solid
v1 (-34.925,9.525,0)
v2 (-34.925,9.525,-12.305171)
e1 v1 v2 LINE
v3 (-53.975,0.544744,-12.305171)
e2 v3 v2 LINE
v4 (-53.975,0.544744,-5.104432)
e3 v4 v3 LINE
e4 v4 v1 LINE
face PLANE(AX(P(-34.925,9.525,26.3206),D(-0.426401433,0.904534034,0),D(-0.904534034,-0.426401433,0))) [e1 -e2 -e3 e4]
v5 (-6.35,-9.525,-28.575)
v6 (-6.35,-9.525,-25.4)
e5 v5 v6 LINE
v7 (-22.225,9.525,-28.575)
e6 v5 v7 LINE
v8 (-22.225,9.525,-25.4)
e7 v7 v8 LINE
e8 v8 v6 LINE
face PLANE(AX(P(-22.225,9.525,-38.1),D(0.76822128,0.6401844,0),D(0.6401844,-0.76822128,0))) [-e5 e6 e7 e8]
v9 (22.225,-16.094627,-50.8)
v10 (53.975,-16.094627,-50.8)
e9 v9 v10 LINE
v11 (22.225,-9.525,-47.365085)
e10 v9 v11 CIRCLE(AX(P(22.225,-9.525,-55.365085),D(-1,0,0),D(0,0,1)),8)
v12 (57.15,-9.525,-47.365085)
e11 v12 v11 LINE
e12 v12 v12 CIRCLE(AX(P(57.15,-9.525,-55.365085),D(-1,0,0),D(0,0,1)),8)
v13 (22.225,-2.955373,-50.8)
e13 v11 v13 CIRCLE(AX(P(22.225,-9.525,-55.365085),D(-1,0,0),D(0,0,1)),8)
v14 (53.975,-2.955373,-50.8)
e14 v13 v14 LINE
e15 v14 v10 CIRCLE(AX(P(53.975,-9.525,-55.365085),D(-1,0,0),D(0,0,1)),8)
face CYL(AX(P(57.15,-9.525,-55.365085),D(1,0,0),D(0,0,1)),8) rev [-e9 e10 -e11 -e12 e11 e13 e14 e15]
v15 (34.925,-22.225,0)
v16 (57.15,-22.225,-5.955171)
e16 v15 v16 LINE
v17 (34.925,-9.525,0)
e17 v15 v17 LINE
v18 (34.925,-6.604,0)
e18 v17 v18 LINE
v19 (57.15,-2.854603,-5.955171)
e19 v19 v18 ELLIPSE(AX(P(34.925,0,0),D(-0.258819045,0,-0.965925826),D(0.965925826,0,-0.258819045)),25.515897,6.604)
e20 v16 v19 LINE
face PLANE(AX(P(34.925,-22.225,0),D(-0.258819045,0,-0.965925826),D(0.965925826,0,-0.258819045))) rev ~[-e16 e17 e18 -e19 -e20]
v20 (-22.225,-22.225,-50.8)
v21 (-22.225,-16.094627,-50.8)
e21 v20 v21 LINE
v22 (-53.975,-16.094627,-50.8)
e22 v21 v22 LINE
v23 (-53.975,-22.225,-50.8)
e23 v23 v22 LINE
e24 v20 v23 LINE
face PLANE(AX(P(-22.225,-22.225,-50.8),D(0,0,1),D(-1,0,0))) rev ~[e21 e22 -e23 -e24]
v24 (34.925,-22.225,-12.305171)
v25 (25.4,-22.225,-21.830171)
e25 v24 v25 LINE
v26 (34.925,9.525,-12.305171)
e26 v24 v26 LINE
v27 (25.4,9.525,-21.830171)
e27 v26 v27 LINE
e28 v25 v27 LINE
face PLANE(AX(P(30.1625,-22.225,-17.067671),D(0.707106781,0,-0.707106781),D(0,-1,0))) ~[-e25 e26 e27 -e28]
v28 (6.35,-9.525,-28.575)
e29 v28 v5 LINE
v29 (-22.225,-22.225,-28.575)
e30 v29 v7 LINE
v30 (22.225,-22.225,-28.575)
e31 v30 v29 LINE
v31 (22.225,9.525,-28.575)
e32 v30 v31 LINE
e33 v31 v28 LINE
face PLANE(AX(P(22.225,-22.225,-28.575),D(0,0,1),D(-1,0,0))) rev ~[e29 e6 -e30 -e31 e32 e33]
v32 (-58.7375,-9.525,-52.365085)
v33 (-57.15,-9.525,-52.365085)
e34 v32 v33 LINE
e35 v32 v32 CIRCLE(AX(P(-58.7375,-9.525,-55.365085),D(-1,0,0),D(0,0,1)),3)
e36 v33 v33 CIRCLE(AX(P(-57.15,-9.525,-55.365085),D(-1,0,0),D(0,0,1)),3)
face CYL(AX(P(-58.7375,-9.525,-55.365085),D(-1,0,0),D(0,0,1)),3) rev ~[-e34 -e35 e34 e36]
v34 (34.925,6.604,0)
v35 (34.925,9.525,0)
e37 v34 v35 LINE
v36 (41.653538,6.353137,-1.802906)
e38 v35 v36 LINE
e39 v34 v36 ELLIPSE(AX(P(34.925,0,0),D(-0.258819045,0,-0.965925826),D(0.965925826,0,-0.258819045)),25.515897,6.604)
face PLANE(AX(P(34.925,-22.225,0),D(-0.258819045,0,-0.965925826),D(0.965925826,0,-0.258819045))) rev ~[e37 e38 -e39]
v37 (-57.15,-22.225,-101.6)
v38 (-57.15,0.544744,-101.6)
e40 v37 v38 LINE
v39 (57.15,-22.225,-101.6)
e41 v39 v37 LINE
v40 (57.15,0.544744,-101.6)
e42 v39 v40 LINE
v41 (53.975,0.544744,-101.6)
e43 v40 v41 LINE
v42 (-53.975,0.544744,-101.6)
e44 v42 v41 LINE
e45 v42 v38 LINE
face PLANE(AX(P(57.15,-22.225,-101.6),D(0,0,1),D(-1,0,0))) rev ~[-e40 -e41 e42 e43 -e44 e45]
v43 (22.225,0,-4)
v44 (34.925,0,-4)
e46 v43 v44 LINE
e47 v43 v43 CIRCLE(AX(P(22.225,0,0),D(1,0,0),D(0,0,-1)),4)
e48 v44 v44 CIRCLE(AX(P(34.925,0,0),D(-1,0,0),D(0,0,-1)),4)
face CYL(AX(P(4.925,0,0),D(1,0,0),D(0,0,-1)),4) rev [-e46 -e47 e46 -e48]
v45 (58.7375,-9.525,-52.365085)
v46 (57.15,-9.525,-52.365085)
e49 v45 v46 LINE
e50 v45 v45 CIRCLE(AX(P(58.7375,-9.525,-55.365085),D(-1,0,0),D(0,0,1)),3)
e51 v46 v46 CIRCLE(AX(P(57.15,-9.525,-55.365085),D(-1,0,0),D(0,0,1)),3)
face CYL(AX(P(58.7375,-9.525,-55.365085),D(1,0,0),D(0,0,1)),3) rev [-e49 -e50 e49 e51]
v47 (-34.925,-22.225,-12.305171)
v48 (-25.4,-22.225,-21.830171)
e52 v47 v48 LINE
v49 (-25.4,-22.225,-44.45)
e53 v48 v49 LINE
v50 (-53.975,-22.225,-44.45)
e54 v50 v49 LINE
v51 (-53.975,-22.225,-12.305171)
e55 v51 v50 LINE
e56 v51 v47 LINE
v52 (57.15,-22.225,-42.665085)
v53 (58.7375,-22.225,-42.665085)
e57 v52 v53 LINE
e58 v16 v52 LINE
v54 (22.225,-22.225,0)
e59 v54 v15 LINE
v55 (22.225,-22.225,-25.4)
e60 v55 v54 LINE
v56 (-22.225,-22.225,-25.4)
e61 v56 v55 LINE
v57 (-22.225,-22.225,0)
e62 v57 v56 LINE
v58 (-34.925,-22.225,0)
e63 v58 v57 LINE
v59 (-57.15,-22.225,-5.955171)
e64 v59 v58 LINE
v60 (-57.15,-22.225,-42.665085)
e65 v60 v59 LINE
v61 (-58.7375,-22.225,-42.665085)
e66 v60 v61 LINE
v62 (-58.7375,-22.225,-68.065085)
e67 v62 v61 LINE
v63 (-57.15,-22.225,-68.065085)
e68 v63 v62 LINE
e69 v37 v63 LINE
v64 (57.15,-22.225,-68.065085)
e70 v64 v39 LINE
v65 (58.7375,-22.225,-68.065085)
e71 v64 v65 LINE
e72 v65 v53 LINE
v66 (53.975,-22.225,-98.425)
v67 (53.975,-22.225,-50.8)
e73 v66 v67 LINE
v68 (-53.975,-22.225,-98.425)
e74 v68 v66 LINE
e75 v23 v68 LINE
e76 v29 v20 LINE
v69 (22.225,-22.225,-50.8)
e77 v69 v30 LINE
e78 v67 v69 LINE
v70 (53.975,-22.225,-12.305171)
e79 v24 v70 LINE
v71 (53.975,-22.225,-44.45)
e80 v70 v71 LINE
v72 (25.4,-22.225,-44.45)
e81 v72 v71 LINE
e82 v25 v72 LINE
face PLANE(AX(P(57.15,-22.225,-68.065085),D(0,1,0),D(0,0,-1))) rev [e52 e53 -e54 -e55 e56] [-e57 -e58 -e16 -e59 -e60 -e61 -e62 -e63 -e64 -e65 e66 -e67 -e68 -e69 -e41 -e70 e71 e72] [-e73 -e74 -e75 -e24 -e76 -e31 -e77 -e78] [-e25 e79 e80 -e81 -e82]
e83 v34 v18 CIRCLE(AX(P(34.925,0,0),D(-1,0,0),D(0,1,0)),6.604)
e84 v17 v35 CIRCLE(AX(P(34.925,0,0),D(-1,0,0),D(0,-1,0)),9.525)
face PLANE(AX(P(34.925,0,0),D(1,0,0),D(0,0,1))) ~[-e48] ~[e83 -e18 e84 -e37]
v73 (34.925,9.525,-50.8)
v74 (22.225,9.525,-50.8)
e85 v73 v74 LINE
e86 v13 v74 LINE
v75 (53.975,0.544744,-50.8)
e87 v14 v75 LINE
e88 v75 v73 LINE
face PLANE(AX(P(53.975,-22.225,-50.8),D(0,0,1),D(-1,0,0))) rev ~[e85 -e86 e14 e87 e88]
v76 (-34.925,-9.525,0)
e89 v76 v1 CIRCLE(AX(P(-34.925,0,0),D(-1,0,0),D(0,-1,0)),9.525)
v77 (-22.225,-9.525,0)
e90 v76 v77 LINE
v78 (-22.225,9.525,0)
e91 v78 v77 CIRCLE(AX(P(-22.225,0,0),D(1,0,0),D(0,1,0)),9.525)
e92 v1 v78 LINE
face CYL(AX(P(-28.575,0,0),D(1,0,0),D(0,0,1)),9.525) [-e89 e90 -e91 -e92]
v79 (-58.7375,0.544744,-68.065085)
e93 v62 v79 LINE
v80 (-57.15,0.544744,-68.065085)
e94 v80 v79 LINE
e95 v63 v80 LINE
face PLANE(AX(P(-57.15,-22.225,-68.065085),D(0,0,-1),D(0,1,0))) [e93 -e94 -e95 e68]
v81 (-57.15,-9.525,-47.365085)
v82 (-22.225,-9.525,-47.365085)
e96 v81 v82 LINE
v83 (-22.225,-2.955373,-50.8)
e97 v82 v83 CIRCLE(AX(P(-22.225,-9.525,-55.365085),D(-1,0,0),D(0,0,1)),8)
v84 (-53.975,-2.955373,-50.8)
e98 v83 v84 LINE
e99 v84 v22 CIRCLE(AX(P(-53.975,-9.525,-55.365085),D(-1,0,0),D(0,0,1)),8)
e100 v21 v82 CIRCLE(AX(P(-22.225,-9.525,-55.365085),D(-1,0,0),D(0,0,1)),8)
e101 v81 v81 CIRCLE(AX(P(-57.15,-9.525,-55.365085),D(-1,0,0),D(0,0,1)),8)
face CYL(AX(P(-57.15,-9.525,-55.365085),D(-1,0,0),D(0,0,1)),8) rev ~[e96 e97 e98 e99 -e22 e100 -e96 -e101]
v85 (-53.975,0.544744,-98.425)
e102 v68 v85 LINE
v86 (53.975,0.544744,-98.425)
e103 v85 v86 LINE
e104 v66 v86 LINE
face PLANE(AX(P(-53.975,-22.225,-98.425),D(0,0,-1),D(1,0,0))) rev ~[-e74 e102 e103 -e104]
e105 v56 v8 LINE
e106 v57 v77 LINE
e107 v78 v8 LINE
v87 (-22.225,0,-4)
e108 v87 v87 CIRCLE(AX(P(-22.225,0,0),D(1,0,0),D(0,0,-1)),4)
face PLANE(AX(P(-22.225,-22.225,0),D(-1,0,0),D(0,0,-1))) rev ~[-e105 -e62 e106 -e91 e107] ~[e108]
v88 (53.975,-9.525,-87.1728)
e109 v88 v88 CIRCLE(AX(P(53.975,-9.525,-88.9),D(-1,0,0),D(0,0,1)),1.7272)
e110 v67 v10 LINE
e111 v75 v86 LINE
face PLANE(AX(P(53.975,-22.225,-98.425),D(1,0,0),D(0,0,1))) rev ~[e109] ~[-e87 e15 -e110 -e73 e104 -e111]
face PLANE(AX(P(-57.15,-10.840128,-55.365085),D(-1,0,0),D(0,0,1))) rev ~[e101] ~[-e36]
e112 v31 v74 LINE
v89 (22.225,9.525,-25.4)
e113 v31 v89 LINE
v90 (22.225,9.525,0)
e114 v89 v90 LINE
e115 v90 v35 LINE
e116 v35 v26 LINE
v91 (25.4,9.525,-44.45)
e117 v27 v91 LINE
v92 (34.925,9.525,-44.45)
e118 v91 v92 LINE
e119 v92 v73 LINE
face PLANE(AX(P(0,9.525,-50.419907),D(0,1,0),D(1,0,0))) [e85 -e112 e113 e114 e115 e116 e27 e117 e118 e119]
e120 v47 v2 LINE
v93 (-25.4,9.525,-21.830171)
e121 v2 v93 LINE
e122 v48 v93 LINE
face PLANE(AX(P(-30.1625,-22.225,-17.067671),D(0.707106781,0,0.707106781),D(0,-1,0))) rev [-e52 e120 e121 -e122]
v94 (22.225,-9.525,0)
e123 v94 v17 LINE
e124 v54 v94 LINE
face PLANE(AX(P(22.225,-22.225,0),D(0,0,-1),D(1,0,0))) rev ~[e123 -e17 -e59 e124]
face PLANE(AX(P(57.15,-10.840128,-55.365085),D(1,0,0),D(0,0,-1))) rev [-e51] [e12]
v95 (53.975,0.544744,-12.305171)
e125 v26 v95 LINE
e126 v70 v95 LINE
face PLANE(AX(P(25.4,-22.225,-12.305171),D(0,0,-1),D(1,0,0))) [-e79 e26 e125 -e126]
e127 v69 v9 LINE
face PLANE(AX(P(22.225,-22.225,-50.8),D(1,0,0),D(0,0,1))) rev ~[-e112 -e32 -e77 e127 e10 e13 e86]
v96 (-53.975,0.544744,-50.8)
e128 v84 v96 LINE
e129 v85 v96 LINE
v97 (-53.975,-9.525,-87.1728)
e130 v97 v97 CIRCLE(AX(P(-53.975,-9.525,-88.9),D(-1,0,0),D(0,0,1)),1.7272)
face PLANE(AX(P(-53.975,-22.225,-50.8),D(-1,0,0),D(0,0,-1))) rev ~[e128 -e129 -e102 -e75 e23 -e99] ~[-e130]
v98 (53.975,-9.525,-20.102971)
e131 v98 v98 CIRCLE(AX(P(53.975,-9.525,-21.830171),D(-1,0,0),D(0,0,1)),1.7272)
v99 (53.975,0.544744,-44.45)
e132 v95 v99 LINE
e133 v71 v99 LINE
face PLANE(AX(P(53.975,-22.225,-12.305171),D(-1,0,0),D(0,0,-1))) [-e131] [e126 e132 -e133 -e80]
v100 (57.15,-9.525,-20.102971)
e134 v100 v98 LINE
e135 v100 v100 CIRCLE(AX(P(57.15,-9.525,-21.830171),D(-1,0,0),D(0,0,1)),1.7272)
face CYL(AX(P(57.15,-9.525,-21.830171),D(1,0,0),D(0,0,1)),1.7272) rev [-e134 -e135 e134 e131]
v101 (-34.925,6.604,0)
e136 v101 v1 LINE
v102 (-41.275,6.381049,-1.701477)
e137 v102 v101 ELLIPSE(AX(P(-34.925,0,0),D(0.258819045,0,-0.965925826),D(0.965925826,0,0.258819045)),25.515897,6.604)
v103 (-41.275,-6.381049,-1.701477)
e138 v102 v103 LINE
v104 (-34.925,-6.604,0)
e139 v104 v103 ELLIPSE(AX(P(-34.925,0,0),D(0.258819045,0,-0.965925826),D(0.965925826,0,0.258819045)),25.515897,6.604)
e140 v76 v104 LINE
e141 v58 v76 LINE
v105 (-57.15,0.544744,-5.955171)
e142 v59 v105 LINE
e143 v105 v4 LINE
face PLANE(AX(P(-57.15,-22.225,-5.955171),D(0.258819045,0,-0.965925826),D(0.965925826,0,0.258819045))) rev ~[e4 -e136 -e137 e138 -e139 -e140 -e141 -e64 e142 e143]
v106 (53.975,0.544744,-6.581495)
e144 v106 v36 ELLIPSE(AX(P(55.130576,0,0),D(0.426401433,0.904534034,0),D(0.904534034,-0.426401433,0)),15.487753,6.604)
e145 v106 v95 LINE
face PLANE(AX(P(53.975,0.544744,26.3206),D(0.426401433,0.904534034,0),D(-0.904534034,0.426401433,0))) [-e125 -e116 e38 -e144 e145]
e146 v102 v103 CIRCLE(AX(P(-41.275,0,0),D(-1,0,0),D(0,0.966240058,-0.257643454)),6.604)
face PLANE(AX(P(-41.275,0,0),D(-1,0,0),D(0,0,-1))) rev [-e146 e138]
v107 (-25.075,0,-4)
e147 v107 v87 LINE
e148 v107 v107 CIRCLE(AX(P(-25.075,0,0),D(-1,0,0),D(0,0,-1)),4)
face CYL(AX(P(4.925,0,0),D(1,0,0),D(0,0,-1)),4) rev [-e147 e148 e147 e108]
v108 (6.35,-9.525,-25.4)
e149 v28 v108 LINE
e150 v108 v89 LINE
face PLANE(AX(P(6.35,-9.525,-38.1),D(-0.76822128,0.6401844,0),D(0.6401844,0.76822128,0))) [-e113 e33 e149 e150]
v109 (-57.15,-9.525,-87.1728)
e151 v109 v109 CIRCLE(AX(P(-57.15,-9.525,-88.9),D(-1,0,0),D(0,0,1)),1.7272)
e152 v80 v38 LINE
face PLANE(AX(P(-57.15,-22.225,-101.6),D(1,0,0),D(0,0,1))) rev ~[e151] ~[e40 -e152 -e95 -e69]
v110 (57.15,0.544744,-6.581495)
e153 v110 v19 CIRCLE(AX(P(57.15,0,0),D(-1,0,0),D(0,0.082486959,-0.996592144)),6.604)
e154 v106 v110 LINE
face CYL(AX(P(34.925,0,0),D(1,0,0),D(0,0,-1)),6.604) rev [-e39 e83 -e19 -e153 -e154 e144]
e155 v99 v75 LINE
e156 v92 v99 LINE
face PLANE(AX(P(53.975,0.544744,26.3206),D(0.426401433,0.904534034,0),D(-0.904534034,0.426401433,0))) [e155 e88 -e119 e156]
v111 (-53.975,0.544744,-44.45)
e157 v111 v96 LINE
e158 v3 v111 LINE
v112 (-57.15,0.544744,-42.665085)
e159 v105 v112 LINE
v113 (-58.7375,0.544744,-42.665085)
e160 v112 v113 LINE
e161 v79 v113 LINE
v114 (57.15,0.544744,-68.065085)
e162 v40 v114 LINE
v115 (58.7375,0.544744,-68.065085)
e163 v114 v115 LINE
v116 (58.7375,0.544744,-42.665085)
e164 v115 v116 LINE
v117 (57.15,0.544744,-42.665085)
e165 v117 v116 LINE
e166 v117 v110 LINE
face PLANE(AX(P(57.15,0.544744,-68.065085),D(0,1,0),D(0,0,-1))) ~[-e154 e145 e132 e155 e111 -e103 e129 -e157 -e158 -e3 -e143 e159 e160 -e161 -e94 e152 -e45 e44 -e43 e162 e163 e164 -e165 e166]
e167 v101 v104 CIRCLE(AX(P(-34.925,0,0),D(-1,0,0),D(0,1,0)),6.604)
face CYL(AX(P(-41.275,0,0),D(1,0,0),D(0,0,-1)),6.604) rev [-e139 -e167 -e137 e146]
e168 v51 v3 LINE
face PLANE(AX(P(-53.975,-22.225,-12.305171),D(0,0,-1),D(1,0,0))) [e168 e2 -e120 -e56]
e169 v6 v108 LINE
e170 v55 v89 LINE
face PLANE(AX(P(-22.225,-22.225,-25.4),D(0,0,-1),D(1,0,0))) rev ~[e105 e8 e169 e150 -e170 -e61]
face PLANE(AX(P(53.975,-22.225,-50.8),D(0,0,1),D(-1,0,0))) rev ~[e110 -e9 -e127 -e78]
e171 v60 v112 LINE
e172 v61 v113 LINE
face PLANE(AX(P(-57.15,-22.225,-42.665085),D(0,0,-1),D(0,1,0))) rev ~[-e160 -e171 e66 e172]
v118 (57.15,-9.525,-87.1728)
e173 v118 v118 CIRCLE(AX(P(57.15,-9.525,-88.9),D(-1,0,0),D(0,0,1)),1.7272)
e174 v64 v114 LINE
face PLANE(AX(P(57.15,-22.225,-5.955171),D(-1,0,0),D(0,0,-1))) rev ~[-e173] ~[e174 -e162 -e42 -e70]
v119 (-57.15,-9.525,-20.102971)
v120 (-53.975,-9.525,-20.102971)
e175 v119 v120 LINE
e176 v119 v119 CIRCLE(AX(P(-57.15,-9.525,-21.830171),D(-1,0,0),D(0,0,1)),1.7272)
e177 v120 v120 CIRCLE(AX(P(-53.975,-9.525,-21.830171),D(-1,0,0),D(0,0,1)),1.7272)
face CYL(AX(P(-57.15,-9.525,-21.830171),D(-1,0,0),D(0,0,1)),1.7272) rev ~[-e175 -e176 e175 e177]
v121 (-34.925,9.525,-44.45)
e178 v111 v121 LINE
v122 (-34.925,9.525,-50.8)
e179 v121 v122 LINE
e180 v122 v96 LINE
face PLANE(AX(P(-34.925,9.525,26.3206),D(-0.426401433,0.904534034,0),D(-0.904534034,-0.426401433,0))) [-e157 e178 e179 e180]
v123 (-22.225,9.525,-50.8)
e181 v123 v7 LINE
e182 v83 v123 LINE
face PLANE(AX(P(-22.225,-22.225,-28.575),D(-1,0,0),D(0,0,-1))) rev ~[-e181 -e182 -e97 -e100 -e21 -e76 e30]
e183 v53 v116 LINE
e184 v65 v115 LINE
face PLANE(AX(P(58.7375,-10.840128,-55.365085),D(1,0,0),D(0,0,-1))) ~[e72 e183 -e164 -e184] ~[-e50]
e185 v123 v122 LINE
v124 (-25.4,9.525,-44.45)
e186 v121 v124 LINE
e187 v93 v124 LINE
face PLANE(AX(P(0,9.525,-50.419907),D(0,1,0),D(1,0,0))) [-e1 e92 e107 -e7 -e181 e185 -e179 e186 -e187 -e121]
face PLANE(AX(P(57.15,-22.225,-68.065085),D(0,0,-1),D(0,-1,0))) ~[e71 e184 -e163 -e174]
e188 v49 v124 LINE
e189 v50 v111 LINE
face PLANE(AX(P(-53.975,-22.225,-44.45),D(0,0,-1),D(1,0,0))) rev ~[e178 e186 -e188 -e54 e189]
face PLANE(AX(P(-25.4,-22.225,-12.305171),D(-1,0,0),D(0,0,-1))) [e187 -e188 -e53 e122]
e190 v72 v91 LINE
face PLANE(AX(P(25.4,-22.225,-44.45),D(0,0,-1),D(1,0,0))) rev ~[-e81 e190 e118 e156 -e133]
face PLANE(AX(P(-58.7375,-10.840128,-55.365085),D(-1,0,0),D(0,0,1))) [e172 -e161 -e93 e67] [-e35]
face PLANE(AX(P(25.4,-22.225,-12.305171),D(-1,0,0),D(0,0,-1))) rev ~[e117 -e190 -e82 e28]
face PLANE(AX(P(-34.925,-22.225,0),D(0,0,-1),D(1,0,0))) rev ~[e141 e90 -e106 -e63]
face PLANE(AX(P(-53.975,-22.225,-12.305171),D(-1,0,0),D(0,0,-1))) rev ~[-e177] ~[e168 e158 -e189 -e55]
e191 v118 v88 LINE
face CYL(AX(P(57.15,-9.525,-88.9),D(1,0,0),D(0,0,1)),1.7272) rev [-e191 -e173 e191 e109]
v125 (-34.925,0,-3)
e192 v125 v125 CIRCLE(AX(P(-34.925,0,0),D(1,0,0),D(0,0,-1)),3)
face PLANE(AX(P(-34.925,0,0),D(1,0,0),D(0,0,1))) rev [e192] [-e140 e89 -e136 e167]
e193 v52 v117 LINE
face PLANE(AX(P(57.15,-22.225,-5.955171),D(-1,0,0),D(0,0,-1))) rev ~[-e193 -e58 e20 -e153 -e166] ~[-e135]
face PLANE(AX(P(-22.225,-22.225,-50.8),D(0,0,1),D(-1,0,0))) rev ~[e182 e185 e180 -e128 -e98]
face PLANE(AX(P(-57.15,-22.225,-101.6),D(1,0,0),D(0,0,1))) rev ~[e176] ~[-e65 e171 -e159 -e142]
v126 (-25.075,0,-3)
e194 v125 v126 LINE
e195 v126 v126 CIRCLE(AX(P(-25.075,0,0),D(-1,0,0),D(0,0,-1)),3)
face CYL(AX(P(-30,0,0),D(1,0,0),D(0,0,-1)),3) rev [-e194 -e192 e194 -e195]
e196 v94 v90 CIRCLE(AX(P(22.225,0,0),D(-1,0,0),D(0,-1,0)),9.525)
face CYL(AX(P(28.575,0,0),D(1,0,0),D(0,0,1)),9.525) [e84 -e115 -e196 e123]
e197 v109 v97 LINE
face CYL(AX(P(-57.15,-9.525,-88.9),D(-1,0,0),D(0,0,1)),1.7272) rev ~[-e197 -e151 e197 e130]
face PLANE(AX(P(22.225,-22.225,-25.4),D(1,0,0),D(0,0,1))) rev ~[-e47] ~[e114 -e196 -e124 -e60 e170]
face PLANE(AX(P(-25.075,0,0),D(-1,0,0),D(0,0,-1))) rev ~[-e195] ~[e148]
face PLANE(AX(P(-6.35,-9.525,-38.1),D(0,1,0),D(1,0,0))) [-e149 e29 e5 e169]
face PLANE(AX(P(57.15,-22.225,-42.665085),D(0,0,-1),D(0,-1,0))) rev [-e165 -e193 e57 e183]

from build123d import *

# Parameters (mm, degrees)
SKETCH1_W                = 12.7
SKETCH1_H                = 9.525
BOSS_EXTRUDE1_DEPTH      = 9.525
BOSS_EXTRUDE1_DEPTH_BACK = 22.225
SKETCH2_W                = 28.575
SKETCH2_H                = 32.144829198
CUT_EXTRUDE1_DEPTH       = 127.92060018
CUT_EXTRUDE1_DEPTH_BACK  = 127.92060018
CHAMFER1_SIZE            = 9.525
SKETCH11_W               = 143.179068554
SKETCH11_H               = 12.488767135
CUT_EXTRUDE5_DEPTH       = 119.773497618
SKETCH5_W                = 9.85
SKETCH5_H                = 3
SKETCH5_W_2              = 60
SKETCH5_H_2              = 4
CUT_EXTRUDE3_REACH       = 156.535
SKETCH6_R                = 1.7272
SKETCH6_R_2              = 8
SKETCH7_W                = 25.4
SKETCH7_H                = 22.769743879
BOSS_EXTRUDE2_DEPTH      = 1.5875
CUT_EXTRUDE4_REACH       = 157.713
SKETCH8_R                = 3
CUT_EXTRUDE6_DEPTH       = 99.74454178
CUT_EXTRUDE6_DEPTH_BACK  = 12.7


with BuildPart() as part:
    # Sketch1 → Revolve1 (revolve)
    with BuildSketch(Plane.XY, mode=Mode.PRIVATE) as revolve1_sk:
        with Locations((-28.575, 4.7625)):
            Rectangle(SKETCH1_W, SKETCH1_H)
        with Locations((28.575, 4.7625)):
            Rectangle(SKETCH1_W, SKETCH1_H)
    revolve(revolve1_sk.sketch.rotate(Axis((-22.225, 0, 0), (1, 0, 0)), 90), axis=Axis((-22.225, 0, 0), (1, 0, 0)))

    # Sketch2 → Boss-Extrude1 (add, two sides: drawn at the far end of the back side and taken through both)
    with BuildSketch(Plane(origin=(0, 0, 0), x_dir=(1, 0, 0), z_dir=(0, 1, 0)).offset(-BOSS_EXTRUDE1_DEPTH_BACK)):
        Polygon((-57.15, 5.955170802), (-34.925, 0), (-22.225, 0), (-22.225, 25.4), (22.225, 25.4), (22.225, 0), (34.925, 0), (57.15, 5.955170802), (57.15, 101.6), (-57.15, 101.6), align=None)
        Polygon((-22.225, 28.575), (-22.225, 50.8), (-53.975, 50.8), (-53.975, 98.425), (53.975, 98.425), (53.975, 50.8), (22.225, 50.8), (22.225, 28.575), align=None, mode=Mode.SUBTRACT)
        with Locations((39.6875, 28.377585401)):
            Rectangle(SKETCH2_W, SKETCH2_H, mode=Mode.SUBTRACT)
        with Locations((-39.6875, 28.377585401)):
            Rectangle(SKETCH2_W, SKETCH2_H, mode=Mode.SUBTRACT)
    extrude(amount=BOSS_EXTRUDE1_DEPTH + BOSS_EXTRUDE1_DEPTH_BACK)

    # Sketch3 → Cut-Extrude1 (cut, two sides: drawn at the far end of the back side and taken through both)
    with BuildSketch(Plane(origin=(0, 0, -101.6), x_dir=(-1, 0, 0), z_dir=(0, 0, -1)).offset(-CUT_EXTRUDE1_DEPTH_BACK)):
        Polygon((-363.181758486, 0.544743879), (-78.360804047, 0.544743879), (-53.975, 0.544743879), (-34.925, 9.525), (34.925, 9.525), (53.975, 0.544743879), (73.137213101, 0.544743879), (357.958167541, 0.544743879), (357.958167541, 570.186652758), (-363.181758486, 570.186652758), align=None)
    extrude(amount=CUT_EXTRUDE1_DEPTH + CUT_EXTRUDE1_DEPTH_BACK, mode=Mode.SUBTRACT)

    # Chamfer1
    chamfer1_edges = [part.edges().sort_by_distance(p)[0] for p in [
        (-25.4, -6.35, -12.305170802),
        (25.4, -6.35, -12.305170802),
    ]]
    chamfer(chamfer1_edges, length=CHAMFER1_SIZE)

    # Sketch11 → Cut-Extrude5 (cut, through all)
    with BuildSketch(Plane(origin=(0, 0.544743879, 0), x_dir=(1, 0, 0), z_dir=(0, 1, 0))):
        with Locations((14.439534277, 95.355616432)):
            Rectangle(SKETCH11_W, SKETCH11_H)
    extrude(amount=CUT_EXTRUDE5_DEPTH, mode=Mode.SUBTRACT)

    # Sketch5 → Cut-Revolve1 (revolve, cut)
    with BuildSketch(Plane(origin=(0, 0, 0), x_dir=(1, 0, 0), z_dir=(0, 1, 0)), mode=Mode.PRIVATE) as cut_revolve1_sk:
        Polygon((-34.925, -3), (-34.925, 0), (-41.275, 0), (-41.275, -6.604), (-34.925, -6.604), align=None)
        with Locations((-30, -1.5)):
            Rectangle(SKETCH5_W, SKETCH5_H)
        Polygon((73.349668225, 0), (34.925, 0), (34.925, -4), (34.925, -6.604), (73.349668225, -6.604), align=None)
        with Locations((4.925, -2)):
            Rectangle(SKETCH5_W_2, SKETCH5_H_2)
    revolve(cut_revolve1_sk.sketch.rotate(Axis((116.428907087, 0, 0), (-1, 0, 0)), 180), axis=Axis((116.428907087, 0, 0), (-1, 0, 0)), mode=Mode.SUBTRACT)

    # Sketch6 → Cut-Extrude3 (cut, up to next)
    with BuildSketch(Plane.ZY.offset(57.15), mode=Mode.PRIVATE) as cut_extrude3_sk1:
        with Locations((-88.9, -9.525)):
            Circle(SKETCH6_R)
    cut_extrude3_tool1 = extrude(cut_extrude3_sk1.sketch, amount=-CUT_EXTRUDE3_REACH, mode=Mode.PRIVATE) & part.part
    # Sketch6 → Cut-Extrude3 (cut, up to next)
    with BuildSketch(Plane.ZY.offset(57.15), mode=Mode.PRIVATE) as cut_extrude3_sk2:
        with Locations((-21.830170802, -9.525)):
            Circle(SKETCH6_R)
    cut_extrude3_tool2 = extrude(cut_extrude3_sk2.sketch, amount=-CUT_EXTRUDE3_REACH, mode=Mode.PRIVATE) & part.part
    # Sketch6 → Cut-Extrude3 (cut, up to next)
    with BuildSketch(Plane.ZY.offset(57.15), mode=Mode.PRIVATE) as cut_extrude3_sk3:
        with Locations((-55.365085401, -9.525)):
            Circle(SKETCH6_R_2)
    cut_extrude3_tool3 = extrude(cut_extrude3_sk3.sketch, amount=-CUT_EXTRUDE3_REACH, mode=Mode.PRIVATE) & part.part
    cut_extrude3_1 = cut_extrude3_tool1.solids().sort_by_distance((-57.15, -9.525, -88.9))[0]
    add(cut_extrude3_1, mode=Mode.SUBTRACT)
    cut_extrude3_2 = cut_extrude3_tool2.solids().sort_by_distance((-57.15, -9.525, -21.830171))[0]
    add(cut_extrude3_2, mode=Mode.SUBTRACT)
    cut_extrude3_3 = cut_extrude3_tool3.solids().sort_by_distance((-57.15, -9.525, -55.365085))[0]
    add(cut_extrude3_3, mode=Mode.SUBTRACT)
    cut_extrude3 = cut_extrude3_1 + cut_extrude3_2 + cut_extrude3_3  # Cut-Extrude3 as one shape, for the pattern or mirror that repeats it

    # Sketch7 → Boss-Extrude2 (add)
    with BuildSketch(Plane.ZY.offset(57.15)):
        with Locations((-55.365085401, -10.840128061)):
            Rectangle(SKETCH7_W, SKETCH7_H)
    boss_extrude2 = extrude(amount=BOSS_EXTRUDE2_DEPTH)

    # Sketch8 → Cut-Extrude4 (cut, up to next)
    with BuildSketch(Plane.ZY.offset(58.7375), mode=Mode.PRIVATE) as cut_extrude4_sk1:
        with Locations((-55.365085401, -9.525)):
            Circle(SKETCH8_R)
    cut_extrude4_tool1 = extrude(cut_extrude4_sk1.sketch, amount=-CUT_EXTRUDE4_REACH, mode=Mode.PRIVATE) & part.part
    cut_extrude4 = cut_extrude4_tool1.solids().sort_by_distance((-58.7375, -9.525, -55.365085))[0]
    add(cut_extrude4, mode=Mode.SUBTRACT)

    # Mirror1: Cut-Extrude3, Boss-Extrude2, Cut-Extrude4 across plane
    add(cut_extrude3.mirror(Plane(origin=(0, 0, 0), x_dir=(0, 0, 1), z_dir=(1, 0, 0))), mode=Mode.SUBTRACT)
    add(boss_extrude2.mirror(Plane(origin=(0, 0, 0), x_dir=(0, 0, 1), z_dir=(1, 0, 0))))
    add(cut_extrude4.mirror(Plane(origin=(0, 0, 0), x_dir=(0, 0, 1), z_dir=(1, 0, 0))), mode=Mode.SUBTRACT)

    # Sketch12 → Cut-Extrude6 (cut, two sides: drawn at the far end of the back side and taken through both)
    with BuildSketch(Plane.XY.offset(-25.4).offset(-CUT_EXTRUDE6_DEPTH_BACK)):
        Polygon((-139.974688472, 150.824626166), (-22.225, 9.525), (-6.35, -9.525), (6.35, -9.525), (22.225, 9.525), (139.974688472, 150.824626166), (139.974688472, 518.686412656), (-139.974688472, 518.686412656), align=None)
    extrude(amount=CUT_EXTRUDE6_DEPTH + CUT_EXTRUDE6_DEPTH_BACK, mode=Mode.SUBTRACT)


solid = part.part
